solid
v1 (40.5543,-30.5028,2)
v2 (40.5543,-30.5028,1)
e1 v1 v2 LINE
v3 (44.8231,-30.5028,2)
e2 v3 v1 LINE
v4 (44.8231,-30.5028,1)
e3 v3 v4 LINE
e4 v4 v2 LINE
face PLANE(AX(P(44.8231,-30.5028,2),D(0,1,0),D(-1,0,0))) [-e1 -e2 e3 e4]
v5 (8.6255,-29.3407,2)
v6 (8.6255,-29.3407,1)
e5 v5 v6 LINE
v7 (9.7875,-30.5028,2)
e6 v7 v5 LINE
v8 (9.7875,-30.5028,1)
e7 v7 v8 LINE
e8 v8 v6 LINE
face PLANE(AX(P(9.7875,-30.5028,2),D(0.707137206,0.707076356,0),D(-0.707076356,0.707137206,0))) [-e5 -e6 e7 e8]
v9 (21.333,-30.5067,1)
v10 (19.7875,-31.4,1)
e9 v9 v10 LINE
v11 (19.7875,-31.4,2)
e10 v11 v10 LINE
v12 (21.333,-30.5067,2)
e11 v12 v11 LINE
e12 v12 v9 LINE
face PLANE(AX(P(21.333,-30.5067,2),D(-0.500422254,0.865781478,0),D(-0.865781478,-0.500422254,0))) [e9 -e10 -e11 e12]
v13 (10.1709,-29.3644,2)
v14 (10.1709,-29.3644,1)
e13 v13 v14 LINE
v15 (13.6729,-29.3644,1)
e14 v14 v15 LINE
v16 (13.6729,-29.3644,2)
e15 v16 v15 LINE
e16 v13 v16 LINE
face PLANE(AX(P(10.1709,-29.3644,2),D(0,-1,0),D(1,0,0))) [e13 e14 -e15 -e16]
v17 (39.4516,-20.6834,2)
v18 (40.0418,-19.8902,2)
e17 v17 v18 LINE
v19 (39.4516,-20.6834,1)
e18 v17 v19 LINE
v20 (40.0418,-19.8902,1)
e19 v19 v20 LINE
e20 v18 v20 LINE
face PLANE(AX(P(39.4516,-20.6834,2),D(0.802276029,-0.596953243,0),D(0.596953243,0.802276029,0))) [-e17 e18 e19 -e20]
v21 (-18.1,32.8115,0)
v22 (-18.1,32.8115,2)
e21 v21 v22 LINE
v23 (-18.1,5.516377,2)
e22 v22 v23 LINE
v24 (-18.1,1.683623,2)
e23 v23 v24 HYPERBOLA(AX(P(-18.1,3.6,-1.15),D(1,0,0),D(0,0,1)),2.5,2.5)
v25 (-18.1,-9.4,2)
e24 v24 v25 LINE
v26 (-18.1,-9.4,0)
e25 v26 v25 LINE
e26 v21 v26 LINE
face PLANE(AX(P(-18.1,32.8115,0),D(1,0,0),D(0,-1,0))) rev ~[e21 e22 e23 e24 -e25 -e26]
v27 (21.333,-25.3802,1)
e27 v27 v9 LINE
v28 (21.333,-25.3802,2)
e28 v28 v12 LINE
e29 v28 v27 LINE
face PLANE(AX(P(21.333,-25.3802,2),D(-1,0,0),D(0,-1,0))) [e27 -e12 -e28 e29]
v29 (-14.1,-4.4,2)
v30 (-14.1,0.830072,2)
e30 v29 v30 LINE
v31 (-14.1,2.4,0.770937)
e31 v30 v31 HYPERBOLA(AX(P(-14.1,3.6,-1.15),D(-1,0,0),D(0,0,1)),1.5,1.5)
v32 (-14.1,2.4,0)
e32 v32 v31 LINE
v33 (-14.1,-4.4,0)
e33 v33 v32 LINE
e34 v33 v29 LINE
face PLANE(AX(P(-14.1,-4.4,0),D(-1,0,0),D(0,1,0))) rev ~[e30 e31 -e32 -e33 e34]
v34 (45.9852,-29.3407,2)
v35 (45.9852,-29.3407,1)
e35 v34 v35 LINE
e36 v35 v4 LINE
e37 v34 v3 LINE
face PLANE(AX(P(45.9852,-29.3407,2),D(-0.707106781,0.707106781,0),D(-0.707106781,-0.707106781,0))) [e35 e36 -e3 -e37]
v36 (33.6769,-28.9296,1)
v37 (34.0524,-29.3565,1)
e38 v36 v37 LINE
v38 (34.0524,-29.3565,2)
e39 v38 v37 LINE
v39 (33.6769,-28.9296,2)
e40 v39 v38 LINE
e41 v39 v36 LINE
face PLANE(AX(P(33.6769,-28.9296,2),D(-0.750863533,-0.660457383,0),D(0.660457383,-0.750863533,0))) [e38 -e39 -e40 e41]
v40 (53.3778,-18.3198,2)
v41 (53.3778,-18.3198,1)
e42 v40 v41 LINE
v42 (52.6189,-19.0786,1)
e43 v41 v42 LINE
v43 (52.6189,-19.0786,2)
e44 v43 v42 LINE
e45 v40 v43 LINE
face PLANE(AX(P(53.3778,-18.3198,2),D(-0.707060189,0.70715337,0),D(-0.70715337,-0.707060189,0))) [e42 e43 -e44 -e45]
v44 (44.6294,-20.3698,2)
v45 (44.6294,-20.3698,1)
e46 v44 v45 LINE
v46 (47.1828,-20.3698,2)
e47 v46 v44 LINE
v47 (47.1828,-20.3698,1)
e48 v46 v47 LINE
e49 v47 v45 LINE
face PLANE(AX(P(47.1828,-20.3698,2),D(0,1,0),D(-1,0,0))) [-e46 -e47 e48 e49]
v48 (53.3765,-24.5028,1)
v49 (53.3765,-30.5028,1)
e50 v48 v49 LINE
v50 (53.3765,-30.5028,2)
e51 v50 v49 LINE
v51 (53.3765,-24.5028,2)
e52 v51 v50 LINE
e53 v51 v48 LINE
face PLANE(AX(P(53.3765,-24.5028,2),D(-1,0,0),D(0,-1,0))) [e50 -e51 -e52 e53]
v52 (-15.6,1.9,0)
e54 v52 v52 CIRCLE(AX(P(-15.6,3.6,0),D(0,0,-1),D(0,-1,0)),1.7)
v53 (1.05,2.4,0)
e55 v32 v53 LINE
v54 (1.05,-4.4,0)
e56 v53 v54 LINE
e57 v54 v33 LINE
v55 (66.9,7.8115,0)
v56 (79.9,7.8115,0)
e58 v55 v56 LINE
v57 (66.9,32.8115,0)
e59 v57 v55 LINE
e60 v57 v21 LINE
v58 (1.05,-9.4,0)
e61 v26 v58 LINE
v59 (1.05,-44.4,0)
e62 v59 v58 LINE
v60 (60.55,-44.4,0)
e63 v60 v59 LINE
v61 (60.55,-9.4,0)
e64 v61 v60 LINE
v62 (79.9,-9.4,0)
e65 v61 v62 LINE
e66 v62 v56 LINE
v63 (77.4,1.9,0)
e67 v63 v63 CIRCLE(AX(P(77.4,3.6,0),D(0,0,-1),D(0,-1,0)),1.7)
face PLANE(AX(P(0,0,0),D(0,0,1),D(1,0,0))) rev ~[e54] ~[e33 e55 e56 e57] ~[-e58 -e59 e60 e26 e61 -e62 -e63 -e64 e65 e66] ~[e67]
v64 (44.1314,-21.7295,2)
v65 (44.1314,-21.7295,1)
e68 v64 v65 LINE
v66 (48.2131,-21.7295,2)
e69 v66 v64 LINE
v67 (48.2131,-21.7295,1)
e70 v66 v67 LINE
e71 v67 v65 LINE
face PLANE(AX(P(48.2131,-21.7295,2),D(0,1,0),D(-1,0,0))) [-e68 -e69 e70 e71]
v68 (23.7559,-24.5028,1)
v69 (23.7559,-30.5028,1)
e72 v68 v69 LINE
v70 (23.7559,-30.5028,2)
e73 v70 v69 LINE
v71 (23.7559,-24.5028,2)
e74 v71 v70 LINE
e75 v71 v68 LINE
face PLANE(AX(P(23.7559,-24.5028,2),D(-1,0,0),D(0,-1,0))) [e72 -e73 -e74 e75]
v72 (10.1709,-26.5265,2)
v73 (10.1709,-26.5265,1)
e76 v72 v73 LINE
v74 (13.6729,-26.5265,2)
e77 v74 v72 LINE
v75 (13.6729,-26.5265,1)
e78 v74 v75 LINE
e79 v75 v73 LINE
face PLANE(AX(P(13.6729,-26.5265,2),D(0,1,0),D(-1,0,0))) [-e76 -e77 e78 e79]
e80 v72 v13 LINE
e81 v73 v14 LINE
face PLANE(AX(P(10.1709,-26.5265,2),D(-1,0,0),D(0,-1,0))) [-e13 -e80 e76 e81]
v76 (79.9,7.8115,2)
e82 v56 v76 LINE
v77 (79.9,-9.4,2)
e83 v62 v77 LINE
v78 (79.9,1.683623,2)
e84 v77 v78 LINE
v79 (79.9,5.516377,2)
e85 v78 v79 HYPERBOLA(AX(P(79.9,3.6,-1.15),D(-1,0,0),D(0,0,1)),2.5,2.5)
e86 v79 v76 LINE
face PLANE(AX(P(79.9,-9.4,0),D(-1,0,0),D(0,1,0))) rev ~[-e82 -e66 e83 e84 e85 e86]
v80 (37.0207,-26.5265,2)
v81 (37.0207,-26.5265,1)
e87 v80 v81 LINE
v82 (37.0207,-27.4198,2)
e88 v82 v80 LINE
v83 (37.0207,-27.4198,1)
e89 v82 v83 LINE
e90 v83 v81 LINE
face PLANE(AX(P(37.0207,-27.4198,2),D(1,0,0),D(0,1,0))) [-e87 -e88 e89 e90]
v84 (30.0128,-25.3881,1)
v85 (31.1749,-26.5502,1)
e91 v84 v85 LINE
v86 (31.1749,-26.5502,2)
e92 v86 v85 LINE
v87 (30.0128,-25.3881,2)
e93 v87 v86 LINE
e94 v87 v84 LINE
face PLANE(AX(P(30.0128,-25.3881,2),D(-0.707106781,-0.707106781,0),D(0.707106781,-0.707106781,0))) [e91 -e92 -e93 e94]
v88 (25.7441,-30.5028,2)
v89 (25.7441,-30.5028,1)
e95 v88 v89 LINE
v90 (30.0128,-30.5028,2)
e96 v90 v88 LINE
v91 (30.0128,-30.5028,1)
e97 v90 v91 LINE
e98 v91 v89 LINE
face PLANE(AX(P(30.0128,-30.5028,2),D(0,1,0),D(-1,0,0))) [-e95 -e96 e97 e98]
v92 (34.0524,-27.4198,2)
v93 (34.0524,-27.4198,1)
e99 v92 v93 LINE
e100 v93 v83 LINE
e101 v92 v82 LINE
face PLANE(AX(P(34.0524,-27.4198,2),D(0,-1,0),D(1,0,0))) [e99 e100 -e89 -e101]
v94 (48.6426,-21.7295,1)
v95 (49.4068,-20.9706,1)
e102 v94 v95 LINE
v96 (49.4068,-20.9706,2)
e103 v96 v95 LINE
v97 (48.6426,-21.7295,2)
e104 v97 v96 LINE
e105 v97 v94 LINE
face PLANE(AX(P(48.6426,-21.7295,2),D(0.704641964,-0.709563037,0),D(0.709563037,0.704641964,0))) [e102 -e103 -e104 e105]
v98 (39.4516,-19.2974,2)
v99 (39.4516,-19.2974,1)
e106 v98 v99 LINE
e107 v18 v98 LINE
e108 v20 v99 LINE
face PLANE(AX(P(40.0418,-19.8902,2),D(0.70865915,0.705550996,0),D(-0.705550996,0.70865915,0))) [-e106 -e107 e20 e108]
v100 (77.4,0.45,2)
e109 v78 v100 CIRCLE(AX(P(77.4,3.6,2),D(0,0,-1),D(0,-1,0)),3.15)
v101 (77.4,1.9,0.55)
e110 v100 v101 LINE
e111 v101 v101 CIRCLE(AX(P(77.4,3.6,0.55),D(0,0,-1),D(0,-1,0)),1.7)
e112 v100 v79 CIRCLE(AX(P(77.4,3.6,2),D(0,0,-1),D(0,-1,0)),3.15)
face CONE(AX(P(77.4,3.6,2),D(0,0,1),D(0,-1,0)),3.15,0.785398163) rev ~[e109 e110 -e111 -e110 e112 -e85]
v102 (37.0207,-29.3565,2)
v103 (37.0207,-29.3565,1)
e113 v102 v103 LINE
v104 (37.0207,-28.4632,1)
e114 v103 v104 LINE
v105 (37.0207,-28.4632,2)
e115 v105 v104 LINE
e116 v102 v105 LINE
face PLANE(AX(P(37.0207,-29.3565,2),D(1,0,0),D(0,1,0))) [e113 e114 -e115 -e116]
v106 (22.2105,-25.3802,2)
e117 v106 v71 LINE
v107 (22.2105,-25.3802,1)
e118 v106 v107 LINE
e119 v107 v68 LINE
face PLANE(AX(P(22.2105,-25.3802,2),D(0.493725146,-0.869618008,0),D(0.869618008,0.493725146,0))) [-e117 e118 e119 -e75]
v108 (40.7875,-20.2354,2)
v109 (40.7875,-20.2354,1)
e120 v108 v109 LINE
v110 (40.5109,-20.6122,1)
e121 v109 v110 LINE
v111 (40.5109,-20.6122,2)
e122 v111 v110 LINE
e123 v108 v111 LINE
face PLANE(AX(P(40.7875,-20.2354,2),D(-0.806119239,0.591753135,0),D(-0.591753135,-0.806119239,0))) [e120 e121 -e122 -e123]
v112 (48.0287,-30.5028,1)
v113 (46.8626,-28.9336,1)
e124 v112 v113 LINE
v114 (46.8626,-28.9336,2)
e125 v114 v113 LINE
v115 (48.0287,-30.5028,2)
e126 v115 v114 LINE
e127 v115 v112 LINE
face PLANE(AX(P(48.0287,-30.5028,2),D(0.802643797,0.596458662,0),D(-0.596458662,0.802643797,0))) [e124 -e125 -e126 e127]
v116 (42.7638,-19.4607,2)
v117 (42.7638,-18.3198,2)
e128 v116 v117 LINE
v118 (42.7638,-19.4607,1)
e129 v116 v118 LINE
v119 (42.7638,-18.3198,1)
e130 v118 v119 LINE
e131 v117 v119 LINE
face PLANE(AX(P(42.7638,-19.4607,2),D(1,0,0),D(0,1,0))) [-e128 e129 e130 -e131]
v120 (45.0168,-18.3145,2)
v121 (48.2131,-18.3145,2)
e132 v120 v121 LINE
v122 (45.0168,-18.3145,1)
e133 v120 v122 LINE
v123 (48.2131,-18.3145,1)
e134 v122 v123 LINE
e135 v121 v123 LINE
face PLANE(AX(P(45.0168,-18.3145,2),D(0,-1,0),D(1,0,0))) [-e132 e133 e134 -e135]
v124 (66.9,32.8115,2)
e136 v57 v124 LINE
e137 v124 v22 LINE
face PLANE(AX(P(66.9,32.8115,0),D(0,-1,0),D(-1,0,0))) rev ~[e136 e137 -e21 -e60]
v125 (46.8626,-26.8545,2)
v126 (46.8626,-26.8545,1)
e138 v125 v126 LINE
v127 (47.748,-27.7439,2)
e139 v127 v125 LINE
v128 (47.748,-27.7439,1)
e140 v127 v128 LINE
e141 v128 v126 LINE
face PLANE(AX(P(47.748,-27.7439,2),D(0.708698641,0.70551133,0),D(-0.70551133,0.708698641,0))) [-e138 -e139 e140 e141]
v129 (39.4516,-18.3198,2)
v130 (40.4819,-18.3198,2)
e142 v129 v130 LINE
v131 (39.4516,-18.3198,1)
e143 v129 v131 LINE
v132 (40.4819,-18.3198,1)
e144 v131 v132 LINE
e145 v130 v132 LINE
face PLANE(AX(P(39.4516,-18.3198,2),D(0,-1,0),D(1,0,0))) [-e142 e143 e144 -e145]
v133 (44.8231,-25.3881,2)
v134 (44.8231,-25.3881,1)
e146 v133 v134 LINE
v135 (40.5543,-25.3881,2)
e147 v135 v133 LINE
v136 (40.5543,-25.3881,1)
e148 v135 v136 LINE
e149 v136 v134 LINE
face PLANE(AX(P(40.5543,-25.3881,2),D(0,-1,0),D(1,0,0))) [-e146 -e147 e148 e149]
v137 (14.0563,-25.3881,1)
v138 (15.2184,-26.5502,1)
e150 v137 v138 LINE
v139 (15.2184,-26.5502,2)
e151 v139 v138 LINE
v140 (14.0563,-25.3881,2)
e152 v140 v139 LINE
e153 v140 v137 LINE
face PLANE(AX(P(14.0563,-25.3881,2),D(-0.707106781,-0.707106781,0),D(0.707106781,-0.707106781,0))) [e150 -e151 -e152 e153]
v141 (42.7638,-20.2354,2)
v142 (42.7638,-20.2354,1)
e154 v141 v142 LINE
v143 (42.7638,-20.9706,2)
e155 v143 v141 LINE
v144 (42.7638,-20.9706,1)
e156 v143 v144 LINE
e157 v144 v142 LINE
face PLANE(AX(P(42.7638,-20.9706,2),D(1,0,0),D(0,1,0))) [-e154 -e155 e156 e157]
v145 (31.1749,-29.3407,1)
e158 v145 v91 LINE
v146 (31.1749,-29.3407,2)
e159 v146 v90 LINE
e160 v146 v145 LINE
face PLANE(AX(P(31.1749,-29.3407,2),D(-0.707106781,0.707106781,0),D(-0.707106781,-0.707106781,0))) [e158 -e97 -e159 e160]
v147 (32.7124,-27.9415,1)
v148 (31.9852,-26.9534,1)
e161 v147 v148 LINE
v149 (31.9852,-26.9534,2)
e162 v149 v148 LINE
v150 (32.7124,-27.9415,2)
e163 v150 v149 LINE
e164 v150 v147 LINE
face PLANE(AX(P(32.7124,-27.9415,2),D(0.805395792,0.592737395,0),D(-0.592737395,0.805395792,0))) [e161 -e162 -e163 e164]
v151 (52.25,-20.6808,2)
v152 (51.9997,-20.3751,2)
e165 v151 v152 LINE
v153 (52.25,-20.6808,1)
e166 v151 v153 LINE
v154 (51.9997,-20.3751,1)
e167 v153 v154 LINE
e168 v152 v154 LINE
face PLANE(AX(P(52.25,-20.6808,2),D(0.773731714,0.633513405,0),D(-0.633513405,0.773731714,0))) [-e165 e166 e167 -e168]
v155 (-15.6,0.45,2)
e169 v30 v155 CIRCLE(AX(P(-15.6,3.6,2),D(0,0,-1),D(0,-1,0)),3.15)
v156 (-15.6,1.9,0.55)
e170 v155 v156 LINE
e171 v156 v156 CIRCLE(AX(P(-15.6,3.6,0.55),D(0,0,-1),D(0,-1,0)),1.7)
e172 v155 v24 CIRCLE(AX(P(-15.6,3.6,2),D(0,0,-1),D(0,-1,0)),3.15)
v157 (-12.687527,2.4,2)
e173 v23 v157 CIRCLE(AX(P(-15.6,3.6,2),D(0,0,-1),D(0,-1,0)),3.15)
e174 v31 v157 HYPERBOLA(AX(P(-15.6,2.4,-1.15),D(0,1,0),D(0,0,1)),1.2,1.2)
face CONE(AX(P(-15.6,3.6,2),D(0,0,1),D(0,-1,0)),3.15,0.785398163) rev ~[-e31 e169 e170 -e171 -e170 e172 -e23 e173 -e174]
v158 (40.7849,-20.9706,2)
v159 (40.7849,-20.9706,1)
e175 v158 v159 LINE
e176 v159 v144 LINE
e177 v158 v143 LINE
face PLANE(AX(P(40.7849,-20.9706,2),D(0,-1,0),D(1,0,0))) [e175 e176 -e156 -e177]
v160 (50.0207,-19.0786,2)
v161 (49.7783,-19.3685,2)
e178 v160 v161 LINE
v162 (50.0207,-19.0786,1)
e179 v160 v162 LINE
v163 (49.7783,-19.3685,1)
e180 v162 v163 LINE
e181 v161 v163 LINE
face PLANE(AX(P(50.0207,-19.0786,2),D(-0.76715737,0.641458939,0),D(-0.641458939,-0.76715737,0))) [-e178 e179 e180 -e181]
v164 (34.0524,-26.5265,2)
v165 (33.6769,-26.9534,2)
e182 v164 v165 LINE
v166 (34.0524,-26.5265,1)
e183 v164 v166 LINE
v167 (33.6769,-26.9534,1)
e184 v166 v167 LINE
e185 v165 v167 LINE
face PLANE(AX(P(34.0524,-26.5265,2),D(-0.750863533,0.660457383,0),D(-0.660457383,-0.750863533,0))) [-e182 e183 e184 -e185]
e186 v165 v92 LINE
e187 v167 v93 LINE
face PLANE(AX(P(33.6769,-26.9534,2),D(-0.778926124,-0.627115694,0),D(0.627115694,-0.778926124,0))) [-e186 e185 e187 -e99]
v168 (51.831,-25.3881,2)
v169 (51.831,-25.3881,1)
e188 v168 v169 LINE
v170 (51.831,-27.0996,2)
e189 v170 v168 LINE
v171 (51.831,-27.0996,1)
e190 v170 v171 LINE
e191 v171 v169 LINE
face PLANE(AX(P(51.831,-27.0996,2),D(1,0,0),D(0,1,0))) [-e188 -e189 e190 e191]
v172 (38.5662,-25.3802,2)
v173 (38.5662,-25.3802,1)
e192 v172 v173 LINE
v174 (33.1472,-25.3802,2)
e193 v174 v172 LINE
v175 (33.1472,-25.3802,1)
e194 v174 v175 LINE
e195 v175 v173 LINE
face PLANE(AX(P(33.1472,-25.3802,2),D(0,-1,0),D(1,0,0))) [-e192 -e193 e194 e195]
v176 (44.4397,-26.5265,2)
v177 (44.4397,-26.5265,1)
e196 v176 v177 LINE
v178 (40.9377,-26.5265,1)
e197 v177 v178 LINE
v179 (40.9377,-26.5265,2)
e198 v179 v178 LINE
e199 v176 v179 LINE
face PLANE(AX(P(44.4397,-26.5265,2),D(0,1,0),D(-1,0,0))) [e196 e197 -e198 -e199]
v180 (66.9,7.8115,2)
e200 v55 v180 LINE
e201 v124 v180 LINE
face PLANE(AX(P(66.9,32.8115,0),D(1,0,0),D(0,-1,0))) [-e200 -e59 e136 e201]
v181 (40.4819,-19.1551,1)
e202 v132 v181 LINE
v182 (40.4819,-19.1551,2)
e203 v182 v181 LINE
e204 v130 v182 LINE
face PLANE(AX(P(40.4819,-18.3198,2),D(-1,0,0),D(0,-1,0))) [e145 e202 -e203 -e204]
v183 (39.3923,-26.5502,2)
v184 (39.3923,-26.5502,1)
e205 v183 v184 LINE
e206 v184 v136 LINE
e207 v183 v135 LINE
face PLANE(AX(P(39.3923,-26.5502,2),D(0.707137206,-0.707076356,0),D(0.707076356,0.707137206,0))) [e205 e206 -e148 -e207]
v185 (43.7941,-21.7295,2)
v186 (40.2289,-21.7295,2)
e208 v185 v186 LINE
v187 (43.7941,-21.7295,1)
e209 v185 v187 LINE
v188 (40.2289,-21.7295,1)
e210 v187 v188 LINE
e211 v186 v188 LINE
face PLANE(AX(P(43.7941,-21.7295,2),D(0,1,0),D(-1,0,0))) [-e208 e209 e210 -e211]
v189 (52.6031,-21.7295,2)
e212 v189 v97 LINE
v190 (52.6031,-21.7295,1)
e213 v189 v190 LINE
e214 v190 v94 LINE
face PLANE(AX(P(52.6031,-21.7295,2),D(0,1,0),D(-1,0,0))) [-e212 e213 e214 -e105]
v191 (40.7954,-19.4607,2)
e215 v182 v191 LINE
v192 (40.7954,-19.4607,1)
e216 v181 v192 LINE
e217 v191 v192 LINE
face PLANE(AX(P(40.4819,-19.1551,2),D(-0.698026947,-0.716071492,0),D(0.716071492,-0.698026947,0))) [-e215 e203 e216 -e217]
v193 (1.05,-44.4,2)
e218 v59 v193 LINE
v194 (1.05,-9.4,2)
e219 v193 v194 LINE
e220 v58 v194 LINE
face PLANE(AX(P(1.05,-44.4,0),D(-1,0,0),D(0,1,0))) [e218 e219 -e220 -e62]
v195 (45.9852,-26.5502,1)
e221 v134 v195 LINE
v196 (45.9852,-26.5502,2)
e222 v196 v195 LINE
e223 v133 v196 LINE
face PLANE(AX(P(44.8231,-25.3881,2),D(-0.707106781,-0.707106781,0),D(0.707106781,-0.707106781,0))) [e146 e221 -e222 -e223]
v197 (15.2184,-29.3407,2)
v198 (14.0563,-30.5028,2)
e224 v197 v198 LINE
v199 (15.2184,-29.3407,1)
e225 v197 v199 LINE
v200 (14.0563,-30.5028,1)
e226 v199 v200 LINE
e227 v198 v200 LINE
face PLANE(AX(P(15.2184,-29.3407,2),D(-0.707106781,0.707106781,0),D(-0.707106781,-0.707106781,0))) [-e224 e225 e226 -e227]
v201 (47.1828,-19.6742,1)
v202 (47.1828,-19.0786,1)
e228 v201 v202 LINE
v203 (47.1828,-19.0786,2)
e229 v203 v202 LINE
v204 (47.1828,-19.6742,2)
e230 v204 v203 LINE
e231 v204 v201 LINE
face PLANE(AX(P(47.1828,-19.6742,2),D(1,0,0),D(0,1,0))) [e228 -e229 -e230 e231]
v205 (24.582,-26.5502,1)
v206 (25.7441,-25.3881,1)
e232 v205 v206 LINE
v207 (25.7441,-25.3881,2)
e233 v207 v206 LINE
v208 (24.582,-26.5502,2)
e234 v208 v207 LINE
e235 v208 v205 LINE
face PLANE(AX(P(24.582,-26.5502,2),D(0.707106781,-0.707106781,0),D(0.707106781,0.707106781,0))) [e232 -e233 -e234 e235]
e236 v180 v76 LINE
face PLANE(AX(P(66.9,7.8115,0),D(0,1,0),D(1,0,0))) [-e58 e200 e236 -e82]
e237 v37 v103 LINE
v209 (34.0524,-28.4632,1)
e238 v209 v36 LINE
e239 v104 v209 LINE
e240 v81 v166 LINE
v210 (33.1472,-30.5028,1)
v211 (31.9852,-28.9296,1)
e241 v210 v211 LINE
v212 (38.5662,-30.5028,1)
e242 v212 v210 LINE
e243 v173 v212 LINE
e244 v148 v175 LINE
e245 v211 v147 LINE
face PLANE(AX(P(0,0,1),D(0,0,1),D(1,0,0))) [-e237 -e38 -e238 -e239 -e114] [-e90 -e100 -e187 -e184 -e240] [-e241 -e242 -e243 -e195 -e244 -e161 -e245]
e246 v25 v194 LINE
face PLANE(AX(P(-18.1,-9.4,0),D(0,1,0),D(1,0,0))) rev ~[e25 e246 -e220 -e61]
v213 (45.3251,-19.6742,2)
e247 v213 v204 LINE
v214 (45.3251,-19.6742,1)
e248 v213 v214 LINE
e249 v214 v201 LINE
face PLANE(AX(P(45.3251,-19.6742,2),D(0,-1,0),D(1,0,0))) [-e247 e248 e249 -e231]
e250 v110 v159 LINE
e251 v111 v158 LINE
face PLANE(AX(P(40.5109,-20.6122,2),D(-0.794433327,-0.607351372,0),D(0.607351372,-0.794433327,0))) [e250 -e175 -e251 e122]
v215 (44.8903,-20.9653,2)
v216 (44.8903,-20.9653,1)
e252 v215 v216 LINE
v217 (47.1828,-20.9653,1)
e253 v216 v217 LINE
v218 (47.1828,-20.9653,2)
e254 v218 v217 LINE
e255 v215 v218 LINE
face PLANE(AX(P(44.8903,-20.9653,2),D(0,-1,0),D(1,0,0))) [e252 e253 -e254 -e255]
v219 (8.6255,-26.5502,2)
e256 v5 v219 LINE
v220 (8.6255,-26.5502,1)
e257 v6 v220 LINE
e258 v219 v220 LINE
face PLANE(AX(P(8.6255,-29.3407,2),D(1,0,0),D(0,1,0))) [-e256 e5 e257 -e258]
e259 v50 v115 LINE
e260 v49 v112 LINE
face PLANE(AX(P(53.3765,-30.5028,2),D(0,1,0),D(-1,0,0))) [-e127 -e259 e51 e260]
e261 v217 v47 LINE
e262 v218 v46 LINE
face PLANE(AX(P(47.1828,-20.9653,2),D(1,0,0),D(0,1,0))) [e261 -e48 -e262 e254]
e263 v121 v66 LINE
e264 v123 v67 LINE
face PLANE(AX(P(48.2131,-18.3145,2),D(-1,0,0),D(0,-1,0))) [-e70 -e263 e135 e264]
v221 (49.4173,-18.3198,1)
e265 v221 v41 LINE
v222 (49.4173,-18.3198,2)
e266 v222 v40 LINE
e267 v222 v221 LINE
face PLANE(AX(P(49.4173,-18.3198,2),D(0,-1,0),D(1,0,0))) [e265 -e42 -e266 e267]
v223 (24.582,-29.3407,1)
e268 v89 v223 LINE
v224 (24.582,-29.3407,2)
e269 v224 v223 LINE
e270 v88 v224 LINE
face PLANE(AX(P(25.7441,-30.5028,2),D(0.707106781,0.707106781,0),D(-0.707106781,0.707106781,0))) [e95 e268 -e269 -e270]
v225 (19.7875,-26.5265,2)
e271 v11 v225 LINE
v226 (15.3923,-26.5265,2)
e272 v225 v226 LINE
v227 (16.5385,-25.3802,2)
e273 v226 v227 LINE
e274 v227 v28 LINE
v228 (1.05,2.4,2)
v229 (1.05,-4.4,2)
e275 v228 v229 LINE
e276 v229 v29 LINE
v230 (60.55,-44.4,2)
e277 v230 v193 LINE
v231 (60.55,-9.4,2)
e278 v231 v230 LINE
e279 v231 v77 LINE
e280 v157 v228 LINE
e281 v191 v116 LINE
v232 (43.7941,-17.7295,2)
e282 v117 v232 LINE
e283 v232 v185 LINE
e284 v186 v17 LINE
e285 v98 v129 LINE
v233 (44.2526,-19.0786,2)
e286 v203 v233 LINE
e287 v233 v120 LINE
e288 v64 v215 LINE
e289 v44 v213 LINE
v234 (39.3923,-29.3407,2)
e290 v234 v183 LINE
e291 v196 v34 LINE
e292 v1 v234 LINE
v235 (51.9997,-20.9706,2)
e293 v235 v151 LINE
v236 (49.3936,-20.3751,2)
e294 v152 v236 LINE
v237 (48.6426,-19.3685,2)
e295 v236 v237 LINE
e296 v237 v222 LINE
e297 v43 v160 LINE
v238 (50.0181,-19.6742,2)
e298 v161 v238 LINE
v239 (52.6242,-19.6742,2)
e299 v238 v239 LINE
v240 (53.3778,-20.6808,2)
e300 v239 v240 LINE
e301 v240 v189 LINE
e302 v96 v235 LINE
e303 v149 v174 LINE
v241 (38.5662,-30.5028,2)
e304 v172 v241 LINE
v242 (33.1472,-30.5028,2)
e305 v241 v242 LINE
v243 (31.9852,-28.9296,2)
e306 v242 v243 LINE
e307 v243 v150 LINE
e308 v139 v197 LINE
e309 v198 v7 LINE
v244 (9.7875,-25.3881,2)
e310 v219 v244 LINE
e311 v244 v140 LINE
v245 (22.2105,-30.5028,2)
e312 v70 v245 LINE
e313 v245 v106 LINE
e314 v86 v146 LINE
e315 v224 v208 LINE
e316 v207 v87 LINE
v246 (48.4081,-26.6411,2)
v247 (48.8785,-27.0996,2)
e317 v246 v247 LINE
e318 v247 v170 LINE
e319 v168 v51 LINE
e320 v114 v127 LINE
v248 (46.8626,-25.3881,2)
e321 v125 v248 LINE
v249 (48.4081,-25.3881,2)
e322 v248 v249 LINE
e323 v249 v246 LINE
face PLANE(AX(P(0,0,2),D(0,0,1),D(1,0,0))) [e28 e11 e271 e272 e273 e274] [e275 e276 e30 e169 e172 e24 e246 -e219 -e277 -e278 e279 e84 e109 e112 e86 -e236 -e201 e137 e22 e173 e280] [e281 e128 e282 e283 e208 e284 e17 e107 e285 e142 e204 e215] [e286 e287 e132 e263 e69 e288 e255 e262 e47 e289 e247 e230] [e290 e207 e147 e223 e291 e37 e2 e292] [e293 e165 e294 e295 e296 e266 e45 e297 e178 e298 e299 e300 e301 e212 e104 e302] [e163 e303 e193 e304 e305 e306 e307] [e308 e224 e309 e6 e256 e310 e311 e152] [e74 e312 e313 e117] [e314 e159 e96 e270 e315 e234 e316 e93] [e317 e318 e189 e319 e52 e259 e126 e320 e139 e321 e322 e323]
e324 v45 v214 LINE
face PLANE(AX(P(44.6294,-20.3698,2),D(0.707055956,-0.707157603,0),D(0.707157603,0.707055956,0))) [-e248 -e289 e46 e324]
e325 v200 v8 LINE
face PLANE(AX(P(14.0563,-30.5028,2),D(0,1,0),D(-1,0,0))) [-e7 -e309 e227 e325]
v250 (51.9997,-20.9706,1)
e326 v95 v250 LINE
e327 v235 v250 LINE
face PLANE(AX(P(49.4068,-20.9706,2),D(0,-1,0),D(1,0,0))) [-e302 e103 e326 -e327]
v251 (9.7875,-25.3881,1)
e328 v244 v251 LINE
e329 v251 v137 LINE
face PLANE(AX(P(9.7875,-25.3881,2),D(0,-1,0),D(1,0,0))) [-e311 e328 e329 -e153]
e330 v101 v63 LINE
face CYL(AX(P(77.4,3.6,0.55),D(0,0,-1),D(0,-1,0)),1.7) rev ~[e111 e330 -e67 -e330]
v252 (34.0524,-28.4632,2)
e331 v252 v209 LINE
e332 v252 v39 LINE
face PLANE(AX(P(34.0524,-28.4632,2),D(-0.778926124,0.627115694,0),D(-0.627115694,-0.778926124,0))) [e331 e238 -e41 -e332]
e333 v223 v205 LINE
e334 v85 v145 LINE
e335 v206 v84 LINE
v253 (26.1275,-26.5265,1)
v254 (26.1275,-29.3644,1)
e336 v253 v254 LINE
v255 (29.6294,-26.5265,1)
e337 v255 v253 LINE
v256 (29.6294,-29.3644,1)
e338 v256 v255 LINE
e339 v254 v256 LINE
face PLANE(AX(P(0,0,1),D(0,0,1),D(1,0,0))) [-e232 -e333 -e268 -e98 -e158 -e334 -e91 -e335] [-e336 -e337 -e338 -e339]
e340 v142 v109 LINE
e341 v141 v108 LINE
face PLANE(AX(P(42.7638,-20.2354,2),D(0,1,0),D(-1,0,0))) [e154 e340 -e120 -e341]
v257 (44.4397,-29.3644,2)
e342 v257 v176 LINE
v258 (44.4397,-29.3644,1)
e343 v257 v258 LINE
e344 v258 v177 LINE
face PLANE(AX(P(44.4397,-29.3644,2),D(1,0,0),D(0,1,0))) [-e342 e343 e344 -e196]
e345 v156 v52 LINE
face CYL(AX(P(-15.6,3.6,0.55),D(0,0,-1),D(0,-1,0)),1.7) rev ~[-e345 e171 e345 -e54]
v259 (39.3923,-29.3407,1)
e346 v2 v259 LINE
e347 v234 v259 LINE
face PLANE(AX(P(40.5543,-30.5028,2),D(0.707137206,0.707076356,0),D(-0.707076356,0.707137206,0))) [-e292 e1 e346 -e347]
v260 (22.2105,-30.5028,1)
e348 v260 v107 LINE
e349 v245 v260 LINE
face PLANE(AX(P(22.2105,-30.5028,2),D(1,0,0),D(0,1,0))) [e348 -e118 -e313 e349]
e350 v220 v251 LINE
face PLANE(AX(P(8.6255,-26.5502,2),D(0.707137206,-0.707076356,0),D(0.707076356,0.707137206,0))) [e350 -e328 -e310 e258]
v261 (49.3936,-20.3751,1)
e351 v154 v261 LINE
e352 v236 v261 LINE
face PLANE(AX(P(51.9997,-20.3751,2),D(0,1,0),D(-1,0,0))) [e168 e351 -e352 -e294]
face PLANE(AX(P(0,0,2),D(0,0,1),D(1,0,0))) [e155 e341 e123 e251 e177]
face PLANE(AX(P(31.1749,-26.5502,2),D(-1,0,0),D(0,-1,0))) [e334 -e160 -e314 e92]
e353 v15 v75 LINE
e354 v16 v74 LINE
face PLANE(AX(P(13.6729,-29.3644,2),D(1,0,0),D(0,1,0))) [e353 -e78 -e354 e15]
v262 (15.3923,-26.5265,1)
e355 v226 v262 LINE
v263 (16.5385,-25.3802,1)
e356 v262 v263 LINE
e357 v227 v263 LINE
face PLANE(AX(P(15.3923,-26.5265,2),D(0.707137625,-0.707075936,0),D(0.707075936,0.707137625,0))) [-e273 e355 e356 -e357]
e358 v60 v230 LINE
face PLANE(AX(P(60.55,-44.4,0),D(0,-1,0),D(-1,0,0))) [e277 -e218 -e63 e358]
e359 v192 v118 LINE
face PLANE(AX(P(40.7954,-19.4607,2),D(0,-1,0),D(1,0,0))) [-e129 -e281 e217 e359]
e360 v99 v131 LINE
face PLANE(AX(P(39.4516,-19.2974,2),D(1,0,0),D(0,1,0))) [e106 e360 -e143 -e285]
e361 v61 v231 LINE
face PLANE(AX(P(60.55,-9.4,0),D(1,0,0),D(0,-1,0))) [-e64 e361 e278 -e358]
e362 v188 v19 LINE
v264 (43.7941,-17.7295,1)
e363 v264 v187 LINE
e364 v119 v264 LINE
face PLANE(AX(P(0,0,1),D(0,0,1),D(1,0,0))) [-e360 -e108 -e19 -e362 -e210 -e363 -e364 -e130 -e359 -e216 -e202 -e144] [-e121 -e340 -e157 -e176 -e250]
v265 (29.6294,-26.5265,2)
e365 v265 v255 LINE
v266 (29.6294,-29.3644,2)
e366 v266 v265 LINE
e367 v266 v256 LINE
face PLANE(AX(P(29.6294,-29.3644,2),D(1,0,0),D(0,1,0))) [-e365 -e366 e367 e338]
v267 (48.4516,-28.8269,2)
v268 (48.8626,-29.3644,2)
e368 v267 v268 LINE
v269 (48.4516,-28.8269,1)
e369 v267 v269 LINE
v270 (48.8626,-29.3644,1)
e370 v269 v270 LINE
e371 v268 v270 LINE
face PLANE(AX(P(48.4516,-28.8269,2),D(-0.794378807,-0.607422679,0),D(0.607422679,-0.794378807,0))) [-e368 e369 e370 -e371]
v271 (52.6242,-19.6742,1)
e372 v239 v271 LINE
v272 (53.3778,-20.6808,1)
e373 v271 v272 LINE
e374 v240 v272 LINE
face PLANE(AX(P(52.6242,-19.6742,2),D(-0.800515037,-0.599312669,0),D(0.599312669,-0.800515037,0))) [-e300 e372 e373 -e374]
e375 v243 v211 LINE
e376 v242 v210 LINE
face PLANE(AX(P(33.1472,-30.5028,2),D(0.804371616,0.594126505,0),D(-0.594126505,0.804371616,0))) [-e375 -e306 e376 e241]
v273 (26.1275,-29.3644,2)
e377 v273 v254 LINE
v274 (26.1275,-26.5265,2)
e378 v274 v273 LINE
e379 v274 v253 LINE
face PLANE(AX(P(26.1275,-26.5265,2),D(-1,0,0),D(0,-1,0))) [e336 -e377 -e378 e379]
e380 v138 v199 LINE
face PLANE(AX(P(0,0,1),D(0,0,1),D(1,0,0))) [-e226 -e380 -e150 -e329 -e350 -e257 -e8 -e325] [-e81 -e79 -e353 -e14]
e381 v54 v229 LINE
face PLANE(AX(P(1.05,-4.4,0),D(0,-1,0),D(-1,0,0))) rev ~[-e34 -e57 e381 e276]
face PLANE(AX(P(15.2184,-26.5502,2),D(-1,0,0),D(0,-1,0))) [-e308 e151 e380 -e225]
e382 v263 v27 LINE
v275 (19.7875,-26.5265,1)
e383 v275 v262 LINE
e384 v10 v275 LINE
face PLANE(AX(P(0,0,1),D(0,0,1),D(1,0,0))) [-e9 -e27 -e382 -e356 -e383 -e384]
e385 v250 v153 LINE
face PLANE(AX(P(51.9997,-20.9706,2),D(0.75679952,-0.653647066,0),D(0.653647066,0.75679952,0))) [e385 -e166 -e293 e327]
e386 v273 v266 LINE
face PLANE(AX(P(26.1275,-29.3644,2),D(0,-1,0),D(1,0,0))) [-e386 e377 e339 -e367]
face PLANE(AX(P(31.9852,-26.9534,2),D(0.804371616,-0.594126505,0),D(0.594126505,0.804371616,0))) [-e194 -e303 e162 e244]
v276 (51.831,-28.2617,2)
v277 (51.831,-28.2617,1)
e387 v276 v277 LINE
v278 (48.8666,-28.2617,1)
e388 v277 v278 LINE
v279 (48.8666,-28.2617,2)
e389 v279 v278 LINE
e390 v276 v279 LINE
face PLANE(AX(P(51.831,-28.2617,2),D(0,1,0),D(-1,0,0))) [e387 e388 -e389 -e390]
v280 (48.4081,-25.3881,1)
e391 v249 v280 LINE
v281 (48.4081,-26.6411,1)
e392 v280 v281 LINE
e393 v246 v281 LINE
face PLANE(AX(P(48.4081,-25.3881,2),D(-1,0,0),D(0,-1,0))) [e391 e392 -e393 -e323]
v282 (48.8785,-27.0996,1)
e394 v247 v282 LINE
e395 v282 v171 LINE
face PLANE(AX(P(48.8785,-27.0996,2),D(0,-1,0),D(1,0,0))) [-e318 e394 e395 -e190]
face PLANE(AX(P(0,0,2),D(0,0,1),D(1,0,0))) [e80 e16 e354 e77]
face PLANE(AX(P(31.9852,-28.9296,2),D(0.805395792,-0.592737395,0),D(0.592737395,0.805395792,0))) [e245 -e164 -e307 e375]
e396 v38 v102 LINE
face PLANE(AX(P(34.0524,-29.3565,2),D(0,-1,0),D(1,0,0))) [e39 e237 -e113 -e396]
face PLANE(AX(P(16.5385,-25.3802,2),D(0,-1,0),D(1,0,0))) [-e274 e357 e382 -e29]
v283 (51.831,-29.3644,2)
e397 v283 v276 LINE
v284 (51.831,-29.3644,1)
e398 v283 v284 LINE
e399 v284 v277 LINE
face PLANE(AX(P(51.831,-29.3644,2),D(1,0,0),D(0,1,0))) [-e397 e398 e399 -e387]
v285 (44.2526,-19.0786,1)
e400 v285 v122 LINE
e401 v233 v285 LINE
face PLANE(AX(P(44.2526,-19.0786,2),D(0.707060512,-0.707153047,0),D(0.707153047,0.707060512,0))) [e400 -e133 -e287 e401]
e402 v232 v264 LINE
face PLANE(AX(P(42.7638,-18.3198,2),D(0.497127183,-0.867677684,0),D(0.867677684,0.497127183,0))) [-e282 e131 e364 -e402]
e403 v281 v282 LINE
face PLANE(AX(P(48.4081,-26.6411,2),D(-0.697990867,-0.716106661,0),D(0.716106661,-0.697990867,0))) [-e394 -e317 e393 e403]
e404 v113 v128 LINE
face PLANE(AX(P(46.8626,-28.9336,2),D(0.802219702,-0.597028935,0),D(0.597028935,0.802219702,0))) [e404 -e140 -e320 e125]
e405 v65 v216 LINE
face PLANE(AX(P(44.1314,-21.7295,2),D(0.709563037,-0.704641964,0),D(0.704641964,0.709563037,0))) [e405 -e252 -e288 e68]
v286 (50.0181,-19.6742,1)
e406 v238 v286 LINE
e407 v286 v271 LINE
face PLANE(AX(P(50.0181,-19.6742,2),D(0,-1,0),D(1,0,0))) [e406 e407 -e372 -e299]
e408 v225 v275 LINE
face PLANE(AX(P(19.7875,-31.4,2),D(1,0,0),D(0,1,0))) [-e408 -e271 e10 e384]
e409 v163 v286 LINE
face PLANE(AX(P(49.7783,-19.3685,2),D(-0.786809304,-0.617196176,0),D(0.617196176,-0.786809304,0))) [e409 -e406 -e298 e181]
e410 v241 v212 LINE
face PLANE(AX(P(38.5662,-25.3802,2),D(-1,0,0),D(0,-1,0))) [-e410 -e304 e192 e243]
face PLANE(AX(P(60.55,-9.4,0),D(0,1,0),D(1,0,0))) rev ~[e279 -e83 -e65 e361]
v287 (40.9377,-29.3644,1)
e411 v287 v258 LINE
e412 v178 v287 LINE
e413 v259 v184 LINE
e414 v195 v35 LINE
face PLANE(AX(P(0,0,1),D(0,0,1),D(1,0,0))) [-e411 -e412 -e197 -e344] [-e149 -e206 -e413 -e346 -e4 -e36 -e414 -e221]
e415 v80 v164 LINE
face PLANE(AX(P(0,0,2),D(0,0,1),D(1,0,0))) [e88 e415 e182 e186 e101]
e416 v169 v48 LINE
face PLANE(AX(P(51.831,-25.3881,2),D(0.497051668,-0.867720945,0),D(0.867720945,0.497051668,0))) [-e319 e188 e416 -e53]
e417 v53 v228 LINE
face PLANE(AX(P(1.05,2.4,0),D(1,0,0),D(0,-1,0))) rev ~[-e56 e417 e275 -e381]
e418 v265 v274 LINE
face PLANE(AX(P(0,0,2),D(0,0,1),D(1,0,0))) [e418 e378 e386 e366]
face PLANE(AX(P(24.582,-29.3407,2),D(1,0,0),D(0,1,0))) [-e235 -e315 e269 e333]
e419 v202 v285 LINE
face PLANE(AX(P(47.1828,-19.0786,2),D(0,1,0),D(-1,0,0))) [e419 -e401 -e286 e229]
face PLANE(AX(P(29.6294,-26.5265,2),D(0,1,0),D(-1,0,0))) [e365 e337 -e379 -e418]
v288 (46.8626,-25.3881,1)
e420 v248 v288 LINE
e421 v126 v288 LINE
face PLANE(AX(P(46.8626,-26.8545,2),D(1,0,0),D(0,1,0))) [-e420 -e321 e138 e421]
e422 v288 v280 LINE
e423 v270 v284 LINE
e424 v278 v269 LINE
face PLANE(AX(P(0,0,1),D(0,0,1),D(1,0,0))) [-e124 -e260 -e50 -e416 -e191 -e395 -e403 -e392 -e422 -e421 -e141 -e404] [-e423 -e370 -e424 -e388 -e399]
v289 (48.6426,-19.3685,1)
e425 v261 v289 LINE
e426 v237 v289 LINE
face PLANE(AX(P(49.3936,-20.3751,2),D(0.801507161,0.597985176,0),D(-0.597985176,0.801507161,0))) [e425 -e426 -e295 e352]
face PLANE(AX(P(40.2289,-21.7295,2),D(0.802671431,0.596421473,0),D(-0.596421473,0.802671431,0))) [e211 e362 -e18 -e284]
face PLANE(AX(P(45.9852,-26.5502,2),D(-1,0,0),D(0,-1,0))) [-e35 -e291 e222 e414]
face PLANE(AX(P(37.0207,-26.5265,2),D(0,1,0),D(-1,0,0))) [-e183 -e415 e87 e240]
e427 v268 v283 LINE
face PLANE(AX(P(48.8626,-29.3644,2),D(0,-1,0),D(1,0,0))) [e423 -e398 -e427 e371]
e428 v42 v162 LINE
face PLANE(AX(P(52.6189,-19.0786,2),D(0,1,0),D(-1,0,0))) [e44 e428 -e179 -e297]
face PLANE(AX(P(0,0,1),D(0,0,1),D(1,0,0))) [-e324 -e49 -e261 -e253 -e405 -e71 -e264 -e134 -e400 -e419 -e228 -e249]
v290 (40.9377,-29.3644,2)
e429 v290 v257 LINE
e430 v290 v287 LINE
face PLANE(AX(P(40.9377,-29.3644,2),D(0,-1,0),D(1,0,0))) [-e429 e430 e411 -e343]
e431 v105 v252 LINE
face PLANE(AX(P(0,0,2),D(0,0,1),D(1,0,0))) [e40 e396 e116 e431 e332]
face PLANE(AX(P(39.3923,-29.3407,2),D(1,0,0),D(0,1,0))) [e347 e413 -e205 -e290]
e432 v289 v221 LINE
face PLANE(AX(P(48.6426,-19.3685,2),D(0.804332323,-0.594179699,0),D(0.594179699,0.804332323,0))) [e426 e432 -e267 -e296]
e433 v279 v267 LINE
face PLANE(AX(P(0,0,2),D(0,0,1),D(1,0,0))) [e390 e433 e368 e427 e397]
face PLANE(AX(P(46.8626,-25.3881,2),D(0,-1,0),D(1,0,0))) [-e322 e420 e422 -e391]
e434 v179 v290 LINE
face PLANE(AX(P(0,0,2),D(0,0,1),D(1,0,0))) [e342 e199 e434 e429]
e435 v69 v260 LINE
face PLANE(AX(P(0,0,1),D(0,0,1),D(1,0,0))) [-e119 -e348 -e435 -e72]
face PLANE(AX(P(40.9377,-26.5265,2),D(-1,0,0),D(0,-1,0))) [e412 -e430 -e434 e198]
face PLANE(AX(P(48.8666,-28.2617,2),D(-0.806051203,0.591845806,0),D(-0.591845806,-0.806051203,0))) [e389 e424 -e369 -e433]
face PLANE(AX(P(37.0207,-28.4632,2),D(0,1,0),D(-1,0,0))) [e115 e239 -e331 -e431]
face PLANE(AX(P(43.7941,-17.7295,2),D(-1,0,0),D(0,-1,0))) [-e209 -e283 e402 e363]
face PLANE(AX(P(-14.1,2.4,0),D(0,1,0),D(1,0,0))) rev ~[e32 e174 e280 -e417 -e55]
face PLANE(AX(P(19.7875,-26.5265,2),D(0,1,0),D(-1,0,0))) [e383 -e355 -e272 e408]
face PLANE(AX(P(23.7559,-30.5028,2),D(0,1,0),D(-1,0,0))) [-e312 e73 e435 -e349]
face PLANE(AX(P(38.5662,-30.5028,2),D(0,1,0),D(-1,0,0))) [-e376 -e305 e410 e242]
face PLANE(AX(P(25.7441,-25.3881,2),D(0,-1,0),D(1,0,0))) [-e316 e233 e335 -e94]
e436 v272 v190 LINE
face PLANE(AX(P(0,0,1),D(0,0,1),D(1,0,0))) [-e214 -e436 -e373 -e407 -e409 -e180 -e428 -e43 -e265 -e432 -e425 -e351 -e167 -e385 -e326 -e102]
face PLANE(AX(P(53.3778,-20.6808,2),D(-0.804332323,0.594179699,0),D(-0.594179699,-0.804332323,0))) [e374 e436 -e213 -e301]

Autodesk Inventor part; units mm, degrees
ref_plane "YZ Plane" through (0, 0, 0) normal (1, 0, 0) x (0, 1, 0)
ref_plane "XZ Plane" through (0, 0, 0) normal (0, 1, 0) x (-1, 0, 0)
ref_plane "XY Plane" through (0, 0, 0) normal (0, 0, 1) x (1, 0, 0)
sketch "Sketch1" plane through (0, 0, 0) normal (0, 0, 1) x (1, 0, 0)
  line L0 (60.55, -6.6) -> (60.55, -27.4477) construction
  line L1 (1.05, -39.5) -> (1.05, -9.5) construction
  line L2 (-18.1, 33.2115) -> (-18.1, -9.4) construction
  line L3 (79.9, -9.4) -> (79.9, 33.0115) construction
  line L4 (79.9, 33.0115) -> (-18.1, 33.0115) construction
  line L5 (79.8396, -44.6) -> (-18.1604, -44.6) construction
  line L6 (60.55, -44.4) -> (1.05, -44.4)
  line L7 (1.05, -44.4) -> (1.05, -9.4)
  line L8 (1.05, -9.4) -> (60.55, -9.4)
  line L9 (60.55, -9.4) -> (60.55, -44.4)
  line L10 (79.9, 32.8115) -> (-18.1, 32.8115)
  line L11 (-18.1, 32.8115) -> (-18.1, -9.4)
  line L12 (-18.1, -9.4) -> (79.9, -9.4)
  line L13 (79.9, -9.4) -> (79.9, 32.8115)
  line L14 (60.55, -9.4) -> (79.9, -9.4) construction
  line L15 (79.9, 32.8115) -> (66.9, 32.8115)
  line L16 (66.9, 32.8115) -> (66.9, 7.8115)
  line L17 (66.9, 7.8115) -> (79.9, 7.8115)
  line L18 (79.9, 7.8115) -> (79.9, 32.8115)
  line L19 (-14.1, 2.4) -> (1.05, 2.4)
  line L20 (1.05, 2.4) -> (1.05, -4.4)
  line L21 (1.05, -4.4) -> (-14.1, -4.4)
  line L22 (-14.1, -4.4) -> (-14.1, 2.4)
  point P0 (0, 0)
  point P1 (1.05, -9.4)
  point P2 (1.05, -9.4)
extrude "Extrusion1" add sketch "Sketch1" along normal blind 2 contours L6 L7 L8 L9 | L8 L12 L11 L10 L16 L17 L13
sketch "Sketch2" plane through (0, 0, 2) normal (0, 0, 1) x (1, 0, 0)
  line L0 (53.3804, -31.4) -> (8.2196, -31.4) construction
  line L1 (8.2196, -31.4) -> (8.2196, -23.7295) construction
  line L2 (8.2196, -23.7295) -> (53.3804, -23.7295) construction
  line L3 (53.3804, -23.7295) -> (53.3804, -31.4) construction
  line L4 (53.3804, -27.5648) -> (60.55, -27.5648) construction
  line L5 (60.55, -44.4) -> (60.55, -9.4) construction
  line L6 (8.2196, -27.5648) -> (1.05, -27.5648) construction
  line L7 (1.05, -9.4) -> (1.05, -44.4) construction
  line L8 (1.05, -44.4) -> (60.55, -44.4) construction
  line L9 (53.3804, -23.7295) -> (53.3804, -21.7295) construction
  line L10 (53.3804, -21.7295) -> (39.3804, -21.7295) construction
  line L11 (39.3804, -21.7295) -> (39.3804, -17.2295) construction
  line L12 (39.3804, -17.2295) -> (53.3804, -17.2295) construction
  line L13 (53.3804, -17.2295) -> (53.3804, -21.7295) construction
  line L14 (46.8626, -25.3881) -> (48.4081, -25.3881)
  line L15 (48.4081, -25.3881) -> (48.4081, -26.6411)
  line L16 (48.4081, -26.6411) -> (48.8785, -27.0996)
  line L17 (48.8785, -27.0996) -> (51.831, -27.0996)
  line L18 (51.831, -27.0996) -> (51.831, -25.3881)
  line L19 (51.831, -25.3881) -> (53.3765, -24.5028)
  line L20 (53.3765, -24.5028) -> (53.3765, -30.5028)
  line L21 (53.3765, -30.5028) -> (48.0287, -30.5028)
  line L22 (48.0287, -30.5028) -> (46.8626, -28.9336)
  line L23 (46.8626, -28.9336) -> (47.748, -27.7439)
  line L24 (47.748, -27.7439) -> (46.8626, -26.8545)
  line L25 (46.8626, -26.8545) -> (46.8626, -25.3881)
  line L26 (48.4516, -28.8269) -> (48.8626, -29.3644)
  line L27 (48.8626, -29.3644) -> (51.831, -29.3644)
  line L28 (51.831, -29.3644) -> (51.831, -28.2617)
  line L29 (51.831, -28.2617) -> (48.8666, -28.2617)
  line L30 (48.8666, -28.2617) -> (48.4516, -28.8269)
  line L31 (39.3923, -26.5502) -> (40.5543, -25.3881)
  line L32 (40.5543, -25.3881) -> (44.8231, -25.3881)
  line L33 (44.8231, -25.3881) -> (45.9852, -26.5502)
  line L34 (45.9852, -26.5502) -> (45.9852, -29.3407)
  line L35 (45.9852, -29.3407) -> (44.8231, -30.5028)
  line L36 (44.8231, -30.5028) -> (40.5543, -30.5028)
  line L37 (40.5543, -30.5028) -> (39.3923, -29.3407)
  line L38 (39.3923, -29.3407) -> (39.3923, -26.5502)
  line L39 (40.9377, -26.5265) -> (40.9377, -29.3644)
  line L40 (40.9377, -29.3644) -> (44.4397, -29.3644)
  line L41 (44.4397, -29.3644) -> (44.4397, -26.5265)
  line L42 (44.4397, -26.5265) -> (40.9377, -26.5265)
  line L43 (31.9852, -26.9534) -> (33.1472, -25.3802)
  line L44 (33.1472, -25.3802) -> (38.5662, -25.3802)
  line L45 (38.5662, -25.3802) -> (38.5662, -30.5028)
  line L46 (38.5662, -30.5028) -> (33.1472, -30.5028)
  line L47 (33.1472, -30.5028) -> (31.9852, -28.9296)
  line L48 (31.9852, -28.9296) -> (32.7124, -27.9415)
  line L49 (32.7124, -27.9415) -> (31.9852, -26.9534)
  line L50 (33.6769, -26.9534) -> (34.0524, -27.4198)
  line L51 (34.0524, -27.4198) -> (37.0207, -27.4198)
  line L52 (37.0207, -27.4198) -> (37.0207, -26.5265)
  line L53 (37.0207, -26.5265) -> (34.0524, -26.5265)
  line L54 (34.0524, -26.5265) -> (33.6769, -26.9534)
  line L55 (33.6769, -28.9296) -> (34.0524, -29.3565)
  line L56 (34.0524, -29.3565) -> (37.0207, -29.3565)
  line L57 (37.0207, -29.3565) -> (37.0207, -28.4632)
  line L58 (37.0207, -28.4632) -> (34.0524, -28.4632)
  line L59 (34.0524, -28.4632) -> (33.6769, -28.9296)
  line L60 (24.582, -26.5502) -> (25.7441, -25.3881)
  line L61 (25.7441, -25.3881) -> (30.0128, -25.3881)
  line L62 (30.0128, -25.3881) -> (31.1749, -26.5502)
  line L63 (31.1749, -26.5502) -> (31.1749, -29.3407)
  line L64 (31.1749, -29.3407) -> (30.0128, -30.5028)
  line L65 (30.0128, -30.5028) -> (25.7441, -30.5028)
  line L66 (25.7441, -30.5028) -> (24.582, -29.3407)
  line L67 (24.582, -29.3407) -> (24.582, -26.5502)
  line L68 (26.1275, -26.5265) -> (26.1275, -29.3644)
  line L69 (26.1275, -29.3644) -> (29.6294, -29.3644)
  line L70 (29.6294, -29.3644) -> (29.6294, -26.5265)
  line L71 (29.6294, -26.5265) -> (26.1275, -26.5265)
  line L72 (22.2105, -25.3802) -> (23.7559, -24.5028)
  line L73 (23.7559, -24.5028) -> (23.7559, -30.5028)
  line L74 (23.7559, -30.5028) -> (22.2105, -30.5028)
  line L75 (22.2105, -30.5028) -> (22.2105, -25.3802)
  line L76 (15.3923, -26.5265) -> (16.5385, -25.3802)
  line L77 (16.5385, -25.3802) -> (21.333, -25.3802)
  line L78 (21.333, -25.3802) -> (21.333, -30.5067)
  line L79 (21.333, -30.5067) -> (19.7875, -31.4)
  line L80 (19.7875, -31.4) -> (19.7875, -26.5265)
  line L81 (19.7875, -26.5265) -> (15.3923, -26.5265)
  line L82 (8.6255, -26.5502) -> (9.7875, -25.3881)
  line L83 (9.7875, -25.3881) -> (14.0563, -25.3881)
  line L84 (14.0563, -25.3881) -> (15.2184, -26.5502)
  line L85 (15.2184, -26.5502) -> (15.2184, -29.3407)
  line L86 (15.2184, -29.3407) -> (14.0563, -30.5028)
  line L87 (14.0563, -30.5028) -> (9.7875, -30.5028)
  line L88 (9.7875, -30.5028) -> (8.6255, -29.3407)
  line L89 (8.6255, -29.3407) -> (8.6255, -26.5502)
  line L90 (10.1709, -26.5265) -> (10.1709, -29.3644)
  line L91 (10.1709, -29.3644) -> (13.6729, -29.3644)
  line L92 (13.6729, -29.3644) -> (13.6729, -26.5265)
  line L93 (13.6729, -26.5265) -> (10.1709, -26.5265)
  line L94 (48.6426, -19.3685) -> (49.4173, -18.3198)
  line L95 (49.4173, -18.3198) -> (53.3778, -18.3198)
  line L96 (53.3778, -18.3198) -> (52.6189, -19.0786)
  line L97 (52.6189, -19.0786) -> (50.0207, -19.0786)
  line L98 (50.0207, -19.0786) -> (49.7783, -19.3685)
  line L99 (49.7783, -19.3685) -> (50.0181, -19.6742)
  line L100 (50.0181, -19.6742) -> (52.6242, -19.6742)
  line L101 (52.6242, -19.6742) -> (53.3778, -20.6808)
  line L102 (53.3778, -20.6808) -> (52.6031, -21.7295)
  line L103 (52.6031, -21.7295) -> (48.6426, -21.7295)
  line L104 (48.6426, -21.7295) -> (49.4068, -20.9706)
  line L105 (49.4068, -20.9706) -> (51.9997, -20.9706)
  line L106 (51.9997, -20.9706) -> (52.25, -20.6808)
  line L107 (52.25, -20.6808) -> (51.9997, -20.3751)
  line L108 (51.9997, -20.3751) -> (49.3936, -20.3751)
  line L109 (49.3936, -20.3751) -> (48.6426, -19.3685)
  line L110 (44.1314, -21.7295) -> (44.8903, -20.9653)
  line L111 (44.8903, -20.9653) -> (47.1828, -20.9653)
  line L112 (47.1828, -20.9653) -> (47.1828, -20.3698)
  line L113 (47.1828, -20.3698) -> (44.6294, -20.3698)
  line L114 (44.6294, -20.3698) -> (45.3251, -19.6742)
  line L115 (45.3251, -19.6742) -> (47.1828, -19.6742)
  line L116 (47.1828, -19.6742) -> (47.1828, -19.0786)
  line L117 (47.1828, -19.0786) -> (44.2526, -19.0786)
  line L118 (44.2526, -19.0786) -> (45.0168, -18.3145)
  line L119 (45.0168, -18.3145) -> (48.2131, -18.3145)
  line L120 (48.2131, -18.3145) -> (48.2131, -21.7295)
  line L121 (48.2131, -21.7295) -> (44.1314, -21.7295)
  line L122 (39.4516, -18.3198) -> (40.4819, -18.3198)
  line L123 (40.4819, -18.3198) -> (40.4819, -19.1551)
  line L124 (40.4819, -19.1551) -> (40.7954, -19.4607)
  line L125 (40.7954, -19.4607) -> (42.7638, -19.4607)
  line L126 (42.7638, -19.4607) -> (42.7638, -18.3198)
  line L127 (42.7638, -18.3198) -> (43.7941, -17.7295)
  line L128 (43.7941, -17.7295) -> (43.7941, -21.7295)
  line L129 (43.7941, -21.7295) -> (40.2289, -21.7295)
  line L130 (40.2289, -21.7295) -> (39.4516, -20.6834)
  line L131 (39.4516, -20.6834) -> (40.0418, -19.8902)
  line L132 (40.0418, -19.8902) -> (39.4516, -19.2974)
  line L133 (39.4516, -19.2974) -> (39.4516, -18.3198)
  line L134 (40.5109, -20.6122) -> (40.7849, -20.9706)
  line L135 (40.7849, -20.9706) -> (42.7638, -20.9706)
  line L136 (42.7638, -20.9706) -> (42.7638, -20.2354)
  line L137 (42.7638, -20.2354) -> (40.7875, -20.2354)
  line L138 (40.7875, -20.2354) -> (40.5109, -20.6122)
  point P0 (0, 0)
  dimension "d4" = 13
  dimension "d5" = 2
  dimension "d6" = 7.6705
  dimension "d7" = 45.1609
  dimension "d8" = 4.5
  dimension "d9" = 14
extrude "Extrusion2" cut sketch "Sketch2" against normal blind 1
sketch "Sketch3" plane through (0, 0, 2) normal (0, 0, 1) x (1, 0, 0)
  circle A0 centre (-15.6, 3.6) radius 1.2295 projected
  arc A1 (76.247, 4.027) -> (76.9, 4.7232) centre (77.4, 3.6) ccw projected
  point P0 (0, 0)
hole "Hole1" at (77.4, 3.6, 2) at (-15.6, 3.6, 2) direction (0, 0, -1) diameter 3.4 end through all countersink diameter 6.3 countersink angle 90 clearance for "Countersunk Flat Head Screw ISO 2009/7046" size "M3" standard "ISO"
properties part number "Dach"
